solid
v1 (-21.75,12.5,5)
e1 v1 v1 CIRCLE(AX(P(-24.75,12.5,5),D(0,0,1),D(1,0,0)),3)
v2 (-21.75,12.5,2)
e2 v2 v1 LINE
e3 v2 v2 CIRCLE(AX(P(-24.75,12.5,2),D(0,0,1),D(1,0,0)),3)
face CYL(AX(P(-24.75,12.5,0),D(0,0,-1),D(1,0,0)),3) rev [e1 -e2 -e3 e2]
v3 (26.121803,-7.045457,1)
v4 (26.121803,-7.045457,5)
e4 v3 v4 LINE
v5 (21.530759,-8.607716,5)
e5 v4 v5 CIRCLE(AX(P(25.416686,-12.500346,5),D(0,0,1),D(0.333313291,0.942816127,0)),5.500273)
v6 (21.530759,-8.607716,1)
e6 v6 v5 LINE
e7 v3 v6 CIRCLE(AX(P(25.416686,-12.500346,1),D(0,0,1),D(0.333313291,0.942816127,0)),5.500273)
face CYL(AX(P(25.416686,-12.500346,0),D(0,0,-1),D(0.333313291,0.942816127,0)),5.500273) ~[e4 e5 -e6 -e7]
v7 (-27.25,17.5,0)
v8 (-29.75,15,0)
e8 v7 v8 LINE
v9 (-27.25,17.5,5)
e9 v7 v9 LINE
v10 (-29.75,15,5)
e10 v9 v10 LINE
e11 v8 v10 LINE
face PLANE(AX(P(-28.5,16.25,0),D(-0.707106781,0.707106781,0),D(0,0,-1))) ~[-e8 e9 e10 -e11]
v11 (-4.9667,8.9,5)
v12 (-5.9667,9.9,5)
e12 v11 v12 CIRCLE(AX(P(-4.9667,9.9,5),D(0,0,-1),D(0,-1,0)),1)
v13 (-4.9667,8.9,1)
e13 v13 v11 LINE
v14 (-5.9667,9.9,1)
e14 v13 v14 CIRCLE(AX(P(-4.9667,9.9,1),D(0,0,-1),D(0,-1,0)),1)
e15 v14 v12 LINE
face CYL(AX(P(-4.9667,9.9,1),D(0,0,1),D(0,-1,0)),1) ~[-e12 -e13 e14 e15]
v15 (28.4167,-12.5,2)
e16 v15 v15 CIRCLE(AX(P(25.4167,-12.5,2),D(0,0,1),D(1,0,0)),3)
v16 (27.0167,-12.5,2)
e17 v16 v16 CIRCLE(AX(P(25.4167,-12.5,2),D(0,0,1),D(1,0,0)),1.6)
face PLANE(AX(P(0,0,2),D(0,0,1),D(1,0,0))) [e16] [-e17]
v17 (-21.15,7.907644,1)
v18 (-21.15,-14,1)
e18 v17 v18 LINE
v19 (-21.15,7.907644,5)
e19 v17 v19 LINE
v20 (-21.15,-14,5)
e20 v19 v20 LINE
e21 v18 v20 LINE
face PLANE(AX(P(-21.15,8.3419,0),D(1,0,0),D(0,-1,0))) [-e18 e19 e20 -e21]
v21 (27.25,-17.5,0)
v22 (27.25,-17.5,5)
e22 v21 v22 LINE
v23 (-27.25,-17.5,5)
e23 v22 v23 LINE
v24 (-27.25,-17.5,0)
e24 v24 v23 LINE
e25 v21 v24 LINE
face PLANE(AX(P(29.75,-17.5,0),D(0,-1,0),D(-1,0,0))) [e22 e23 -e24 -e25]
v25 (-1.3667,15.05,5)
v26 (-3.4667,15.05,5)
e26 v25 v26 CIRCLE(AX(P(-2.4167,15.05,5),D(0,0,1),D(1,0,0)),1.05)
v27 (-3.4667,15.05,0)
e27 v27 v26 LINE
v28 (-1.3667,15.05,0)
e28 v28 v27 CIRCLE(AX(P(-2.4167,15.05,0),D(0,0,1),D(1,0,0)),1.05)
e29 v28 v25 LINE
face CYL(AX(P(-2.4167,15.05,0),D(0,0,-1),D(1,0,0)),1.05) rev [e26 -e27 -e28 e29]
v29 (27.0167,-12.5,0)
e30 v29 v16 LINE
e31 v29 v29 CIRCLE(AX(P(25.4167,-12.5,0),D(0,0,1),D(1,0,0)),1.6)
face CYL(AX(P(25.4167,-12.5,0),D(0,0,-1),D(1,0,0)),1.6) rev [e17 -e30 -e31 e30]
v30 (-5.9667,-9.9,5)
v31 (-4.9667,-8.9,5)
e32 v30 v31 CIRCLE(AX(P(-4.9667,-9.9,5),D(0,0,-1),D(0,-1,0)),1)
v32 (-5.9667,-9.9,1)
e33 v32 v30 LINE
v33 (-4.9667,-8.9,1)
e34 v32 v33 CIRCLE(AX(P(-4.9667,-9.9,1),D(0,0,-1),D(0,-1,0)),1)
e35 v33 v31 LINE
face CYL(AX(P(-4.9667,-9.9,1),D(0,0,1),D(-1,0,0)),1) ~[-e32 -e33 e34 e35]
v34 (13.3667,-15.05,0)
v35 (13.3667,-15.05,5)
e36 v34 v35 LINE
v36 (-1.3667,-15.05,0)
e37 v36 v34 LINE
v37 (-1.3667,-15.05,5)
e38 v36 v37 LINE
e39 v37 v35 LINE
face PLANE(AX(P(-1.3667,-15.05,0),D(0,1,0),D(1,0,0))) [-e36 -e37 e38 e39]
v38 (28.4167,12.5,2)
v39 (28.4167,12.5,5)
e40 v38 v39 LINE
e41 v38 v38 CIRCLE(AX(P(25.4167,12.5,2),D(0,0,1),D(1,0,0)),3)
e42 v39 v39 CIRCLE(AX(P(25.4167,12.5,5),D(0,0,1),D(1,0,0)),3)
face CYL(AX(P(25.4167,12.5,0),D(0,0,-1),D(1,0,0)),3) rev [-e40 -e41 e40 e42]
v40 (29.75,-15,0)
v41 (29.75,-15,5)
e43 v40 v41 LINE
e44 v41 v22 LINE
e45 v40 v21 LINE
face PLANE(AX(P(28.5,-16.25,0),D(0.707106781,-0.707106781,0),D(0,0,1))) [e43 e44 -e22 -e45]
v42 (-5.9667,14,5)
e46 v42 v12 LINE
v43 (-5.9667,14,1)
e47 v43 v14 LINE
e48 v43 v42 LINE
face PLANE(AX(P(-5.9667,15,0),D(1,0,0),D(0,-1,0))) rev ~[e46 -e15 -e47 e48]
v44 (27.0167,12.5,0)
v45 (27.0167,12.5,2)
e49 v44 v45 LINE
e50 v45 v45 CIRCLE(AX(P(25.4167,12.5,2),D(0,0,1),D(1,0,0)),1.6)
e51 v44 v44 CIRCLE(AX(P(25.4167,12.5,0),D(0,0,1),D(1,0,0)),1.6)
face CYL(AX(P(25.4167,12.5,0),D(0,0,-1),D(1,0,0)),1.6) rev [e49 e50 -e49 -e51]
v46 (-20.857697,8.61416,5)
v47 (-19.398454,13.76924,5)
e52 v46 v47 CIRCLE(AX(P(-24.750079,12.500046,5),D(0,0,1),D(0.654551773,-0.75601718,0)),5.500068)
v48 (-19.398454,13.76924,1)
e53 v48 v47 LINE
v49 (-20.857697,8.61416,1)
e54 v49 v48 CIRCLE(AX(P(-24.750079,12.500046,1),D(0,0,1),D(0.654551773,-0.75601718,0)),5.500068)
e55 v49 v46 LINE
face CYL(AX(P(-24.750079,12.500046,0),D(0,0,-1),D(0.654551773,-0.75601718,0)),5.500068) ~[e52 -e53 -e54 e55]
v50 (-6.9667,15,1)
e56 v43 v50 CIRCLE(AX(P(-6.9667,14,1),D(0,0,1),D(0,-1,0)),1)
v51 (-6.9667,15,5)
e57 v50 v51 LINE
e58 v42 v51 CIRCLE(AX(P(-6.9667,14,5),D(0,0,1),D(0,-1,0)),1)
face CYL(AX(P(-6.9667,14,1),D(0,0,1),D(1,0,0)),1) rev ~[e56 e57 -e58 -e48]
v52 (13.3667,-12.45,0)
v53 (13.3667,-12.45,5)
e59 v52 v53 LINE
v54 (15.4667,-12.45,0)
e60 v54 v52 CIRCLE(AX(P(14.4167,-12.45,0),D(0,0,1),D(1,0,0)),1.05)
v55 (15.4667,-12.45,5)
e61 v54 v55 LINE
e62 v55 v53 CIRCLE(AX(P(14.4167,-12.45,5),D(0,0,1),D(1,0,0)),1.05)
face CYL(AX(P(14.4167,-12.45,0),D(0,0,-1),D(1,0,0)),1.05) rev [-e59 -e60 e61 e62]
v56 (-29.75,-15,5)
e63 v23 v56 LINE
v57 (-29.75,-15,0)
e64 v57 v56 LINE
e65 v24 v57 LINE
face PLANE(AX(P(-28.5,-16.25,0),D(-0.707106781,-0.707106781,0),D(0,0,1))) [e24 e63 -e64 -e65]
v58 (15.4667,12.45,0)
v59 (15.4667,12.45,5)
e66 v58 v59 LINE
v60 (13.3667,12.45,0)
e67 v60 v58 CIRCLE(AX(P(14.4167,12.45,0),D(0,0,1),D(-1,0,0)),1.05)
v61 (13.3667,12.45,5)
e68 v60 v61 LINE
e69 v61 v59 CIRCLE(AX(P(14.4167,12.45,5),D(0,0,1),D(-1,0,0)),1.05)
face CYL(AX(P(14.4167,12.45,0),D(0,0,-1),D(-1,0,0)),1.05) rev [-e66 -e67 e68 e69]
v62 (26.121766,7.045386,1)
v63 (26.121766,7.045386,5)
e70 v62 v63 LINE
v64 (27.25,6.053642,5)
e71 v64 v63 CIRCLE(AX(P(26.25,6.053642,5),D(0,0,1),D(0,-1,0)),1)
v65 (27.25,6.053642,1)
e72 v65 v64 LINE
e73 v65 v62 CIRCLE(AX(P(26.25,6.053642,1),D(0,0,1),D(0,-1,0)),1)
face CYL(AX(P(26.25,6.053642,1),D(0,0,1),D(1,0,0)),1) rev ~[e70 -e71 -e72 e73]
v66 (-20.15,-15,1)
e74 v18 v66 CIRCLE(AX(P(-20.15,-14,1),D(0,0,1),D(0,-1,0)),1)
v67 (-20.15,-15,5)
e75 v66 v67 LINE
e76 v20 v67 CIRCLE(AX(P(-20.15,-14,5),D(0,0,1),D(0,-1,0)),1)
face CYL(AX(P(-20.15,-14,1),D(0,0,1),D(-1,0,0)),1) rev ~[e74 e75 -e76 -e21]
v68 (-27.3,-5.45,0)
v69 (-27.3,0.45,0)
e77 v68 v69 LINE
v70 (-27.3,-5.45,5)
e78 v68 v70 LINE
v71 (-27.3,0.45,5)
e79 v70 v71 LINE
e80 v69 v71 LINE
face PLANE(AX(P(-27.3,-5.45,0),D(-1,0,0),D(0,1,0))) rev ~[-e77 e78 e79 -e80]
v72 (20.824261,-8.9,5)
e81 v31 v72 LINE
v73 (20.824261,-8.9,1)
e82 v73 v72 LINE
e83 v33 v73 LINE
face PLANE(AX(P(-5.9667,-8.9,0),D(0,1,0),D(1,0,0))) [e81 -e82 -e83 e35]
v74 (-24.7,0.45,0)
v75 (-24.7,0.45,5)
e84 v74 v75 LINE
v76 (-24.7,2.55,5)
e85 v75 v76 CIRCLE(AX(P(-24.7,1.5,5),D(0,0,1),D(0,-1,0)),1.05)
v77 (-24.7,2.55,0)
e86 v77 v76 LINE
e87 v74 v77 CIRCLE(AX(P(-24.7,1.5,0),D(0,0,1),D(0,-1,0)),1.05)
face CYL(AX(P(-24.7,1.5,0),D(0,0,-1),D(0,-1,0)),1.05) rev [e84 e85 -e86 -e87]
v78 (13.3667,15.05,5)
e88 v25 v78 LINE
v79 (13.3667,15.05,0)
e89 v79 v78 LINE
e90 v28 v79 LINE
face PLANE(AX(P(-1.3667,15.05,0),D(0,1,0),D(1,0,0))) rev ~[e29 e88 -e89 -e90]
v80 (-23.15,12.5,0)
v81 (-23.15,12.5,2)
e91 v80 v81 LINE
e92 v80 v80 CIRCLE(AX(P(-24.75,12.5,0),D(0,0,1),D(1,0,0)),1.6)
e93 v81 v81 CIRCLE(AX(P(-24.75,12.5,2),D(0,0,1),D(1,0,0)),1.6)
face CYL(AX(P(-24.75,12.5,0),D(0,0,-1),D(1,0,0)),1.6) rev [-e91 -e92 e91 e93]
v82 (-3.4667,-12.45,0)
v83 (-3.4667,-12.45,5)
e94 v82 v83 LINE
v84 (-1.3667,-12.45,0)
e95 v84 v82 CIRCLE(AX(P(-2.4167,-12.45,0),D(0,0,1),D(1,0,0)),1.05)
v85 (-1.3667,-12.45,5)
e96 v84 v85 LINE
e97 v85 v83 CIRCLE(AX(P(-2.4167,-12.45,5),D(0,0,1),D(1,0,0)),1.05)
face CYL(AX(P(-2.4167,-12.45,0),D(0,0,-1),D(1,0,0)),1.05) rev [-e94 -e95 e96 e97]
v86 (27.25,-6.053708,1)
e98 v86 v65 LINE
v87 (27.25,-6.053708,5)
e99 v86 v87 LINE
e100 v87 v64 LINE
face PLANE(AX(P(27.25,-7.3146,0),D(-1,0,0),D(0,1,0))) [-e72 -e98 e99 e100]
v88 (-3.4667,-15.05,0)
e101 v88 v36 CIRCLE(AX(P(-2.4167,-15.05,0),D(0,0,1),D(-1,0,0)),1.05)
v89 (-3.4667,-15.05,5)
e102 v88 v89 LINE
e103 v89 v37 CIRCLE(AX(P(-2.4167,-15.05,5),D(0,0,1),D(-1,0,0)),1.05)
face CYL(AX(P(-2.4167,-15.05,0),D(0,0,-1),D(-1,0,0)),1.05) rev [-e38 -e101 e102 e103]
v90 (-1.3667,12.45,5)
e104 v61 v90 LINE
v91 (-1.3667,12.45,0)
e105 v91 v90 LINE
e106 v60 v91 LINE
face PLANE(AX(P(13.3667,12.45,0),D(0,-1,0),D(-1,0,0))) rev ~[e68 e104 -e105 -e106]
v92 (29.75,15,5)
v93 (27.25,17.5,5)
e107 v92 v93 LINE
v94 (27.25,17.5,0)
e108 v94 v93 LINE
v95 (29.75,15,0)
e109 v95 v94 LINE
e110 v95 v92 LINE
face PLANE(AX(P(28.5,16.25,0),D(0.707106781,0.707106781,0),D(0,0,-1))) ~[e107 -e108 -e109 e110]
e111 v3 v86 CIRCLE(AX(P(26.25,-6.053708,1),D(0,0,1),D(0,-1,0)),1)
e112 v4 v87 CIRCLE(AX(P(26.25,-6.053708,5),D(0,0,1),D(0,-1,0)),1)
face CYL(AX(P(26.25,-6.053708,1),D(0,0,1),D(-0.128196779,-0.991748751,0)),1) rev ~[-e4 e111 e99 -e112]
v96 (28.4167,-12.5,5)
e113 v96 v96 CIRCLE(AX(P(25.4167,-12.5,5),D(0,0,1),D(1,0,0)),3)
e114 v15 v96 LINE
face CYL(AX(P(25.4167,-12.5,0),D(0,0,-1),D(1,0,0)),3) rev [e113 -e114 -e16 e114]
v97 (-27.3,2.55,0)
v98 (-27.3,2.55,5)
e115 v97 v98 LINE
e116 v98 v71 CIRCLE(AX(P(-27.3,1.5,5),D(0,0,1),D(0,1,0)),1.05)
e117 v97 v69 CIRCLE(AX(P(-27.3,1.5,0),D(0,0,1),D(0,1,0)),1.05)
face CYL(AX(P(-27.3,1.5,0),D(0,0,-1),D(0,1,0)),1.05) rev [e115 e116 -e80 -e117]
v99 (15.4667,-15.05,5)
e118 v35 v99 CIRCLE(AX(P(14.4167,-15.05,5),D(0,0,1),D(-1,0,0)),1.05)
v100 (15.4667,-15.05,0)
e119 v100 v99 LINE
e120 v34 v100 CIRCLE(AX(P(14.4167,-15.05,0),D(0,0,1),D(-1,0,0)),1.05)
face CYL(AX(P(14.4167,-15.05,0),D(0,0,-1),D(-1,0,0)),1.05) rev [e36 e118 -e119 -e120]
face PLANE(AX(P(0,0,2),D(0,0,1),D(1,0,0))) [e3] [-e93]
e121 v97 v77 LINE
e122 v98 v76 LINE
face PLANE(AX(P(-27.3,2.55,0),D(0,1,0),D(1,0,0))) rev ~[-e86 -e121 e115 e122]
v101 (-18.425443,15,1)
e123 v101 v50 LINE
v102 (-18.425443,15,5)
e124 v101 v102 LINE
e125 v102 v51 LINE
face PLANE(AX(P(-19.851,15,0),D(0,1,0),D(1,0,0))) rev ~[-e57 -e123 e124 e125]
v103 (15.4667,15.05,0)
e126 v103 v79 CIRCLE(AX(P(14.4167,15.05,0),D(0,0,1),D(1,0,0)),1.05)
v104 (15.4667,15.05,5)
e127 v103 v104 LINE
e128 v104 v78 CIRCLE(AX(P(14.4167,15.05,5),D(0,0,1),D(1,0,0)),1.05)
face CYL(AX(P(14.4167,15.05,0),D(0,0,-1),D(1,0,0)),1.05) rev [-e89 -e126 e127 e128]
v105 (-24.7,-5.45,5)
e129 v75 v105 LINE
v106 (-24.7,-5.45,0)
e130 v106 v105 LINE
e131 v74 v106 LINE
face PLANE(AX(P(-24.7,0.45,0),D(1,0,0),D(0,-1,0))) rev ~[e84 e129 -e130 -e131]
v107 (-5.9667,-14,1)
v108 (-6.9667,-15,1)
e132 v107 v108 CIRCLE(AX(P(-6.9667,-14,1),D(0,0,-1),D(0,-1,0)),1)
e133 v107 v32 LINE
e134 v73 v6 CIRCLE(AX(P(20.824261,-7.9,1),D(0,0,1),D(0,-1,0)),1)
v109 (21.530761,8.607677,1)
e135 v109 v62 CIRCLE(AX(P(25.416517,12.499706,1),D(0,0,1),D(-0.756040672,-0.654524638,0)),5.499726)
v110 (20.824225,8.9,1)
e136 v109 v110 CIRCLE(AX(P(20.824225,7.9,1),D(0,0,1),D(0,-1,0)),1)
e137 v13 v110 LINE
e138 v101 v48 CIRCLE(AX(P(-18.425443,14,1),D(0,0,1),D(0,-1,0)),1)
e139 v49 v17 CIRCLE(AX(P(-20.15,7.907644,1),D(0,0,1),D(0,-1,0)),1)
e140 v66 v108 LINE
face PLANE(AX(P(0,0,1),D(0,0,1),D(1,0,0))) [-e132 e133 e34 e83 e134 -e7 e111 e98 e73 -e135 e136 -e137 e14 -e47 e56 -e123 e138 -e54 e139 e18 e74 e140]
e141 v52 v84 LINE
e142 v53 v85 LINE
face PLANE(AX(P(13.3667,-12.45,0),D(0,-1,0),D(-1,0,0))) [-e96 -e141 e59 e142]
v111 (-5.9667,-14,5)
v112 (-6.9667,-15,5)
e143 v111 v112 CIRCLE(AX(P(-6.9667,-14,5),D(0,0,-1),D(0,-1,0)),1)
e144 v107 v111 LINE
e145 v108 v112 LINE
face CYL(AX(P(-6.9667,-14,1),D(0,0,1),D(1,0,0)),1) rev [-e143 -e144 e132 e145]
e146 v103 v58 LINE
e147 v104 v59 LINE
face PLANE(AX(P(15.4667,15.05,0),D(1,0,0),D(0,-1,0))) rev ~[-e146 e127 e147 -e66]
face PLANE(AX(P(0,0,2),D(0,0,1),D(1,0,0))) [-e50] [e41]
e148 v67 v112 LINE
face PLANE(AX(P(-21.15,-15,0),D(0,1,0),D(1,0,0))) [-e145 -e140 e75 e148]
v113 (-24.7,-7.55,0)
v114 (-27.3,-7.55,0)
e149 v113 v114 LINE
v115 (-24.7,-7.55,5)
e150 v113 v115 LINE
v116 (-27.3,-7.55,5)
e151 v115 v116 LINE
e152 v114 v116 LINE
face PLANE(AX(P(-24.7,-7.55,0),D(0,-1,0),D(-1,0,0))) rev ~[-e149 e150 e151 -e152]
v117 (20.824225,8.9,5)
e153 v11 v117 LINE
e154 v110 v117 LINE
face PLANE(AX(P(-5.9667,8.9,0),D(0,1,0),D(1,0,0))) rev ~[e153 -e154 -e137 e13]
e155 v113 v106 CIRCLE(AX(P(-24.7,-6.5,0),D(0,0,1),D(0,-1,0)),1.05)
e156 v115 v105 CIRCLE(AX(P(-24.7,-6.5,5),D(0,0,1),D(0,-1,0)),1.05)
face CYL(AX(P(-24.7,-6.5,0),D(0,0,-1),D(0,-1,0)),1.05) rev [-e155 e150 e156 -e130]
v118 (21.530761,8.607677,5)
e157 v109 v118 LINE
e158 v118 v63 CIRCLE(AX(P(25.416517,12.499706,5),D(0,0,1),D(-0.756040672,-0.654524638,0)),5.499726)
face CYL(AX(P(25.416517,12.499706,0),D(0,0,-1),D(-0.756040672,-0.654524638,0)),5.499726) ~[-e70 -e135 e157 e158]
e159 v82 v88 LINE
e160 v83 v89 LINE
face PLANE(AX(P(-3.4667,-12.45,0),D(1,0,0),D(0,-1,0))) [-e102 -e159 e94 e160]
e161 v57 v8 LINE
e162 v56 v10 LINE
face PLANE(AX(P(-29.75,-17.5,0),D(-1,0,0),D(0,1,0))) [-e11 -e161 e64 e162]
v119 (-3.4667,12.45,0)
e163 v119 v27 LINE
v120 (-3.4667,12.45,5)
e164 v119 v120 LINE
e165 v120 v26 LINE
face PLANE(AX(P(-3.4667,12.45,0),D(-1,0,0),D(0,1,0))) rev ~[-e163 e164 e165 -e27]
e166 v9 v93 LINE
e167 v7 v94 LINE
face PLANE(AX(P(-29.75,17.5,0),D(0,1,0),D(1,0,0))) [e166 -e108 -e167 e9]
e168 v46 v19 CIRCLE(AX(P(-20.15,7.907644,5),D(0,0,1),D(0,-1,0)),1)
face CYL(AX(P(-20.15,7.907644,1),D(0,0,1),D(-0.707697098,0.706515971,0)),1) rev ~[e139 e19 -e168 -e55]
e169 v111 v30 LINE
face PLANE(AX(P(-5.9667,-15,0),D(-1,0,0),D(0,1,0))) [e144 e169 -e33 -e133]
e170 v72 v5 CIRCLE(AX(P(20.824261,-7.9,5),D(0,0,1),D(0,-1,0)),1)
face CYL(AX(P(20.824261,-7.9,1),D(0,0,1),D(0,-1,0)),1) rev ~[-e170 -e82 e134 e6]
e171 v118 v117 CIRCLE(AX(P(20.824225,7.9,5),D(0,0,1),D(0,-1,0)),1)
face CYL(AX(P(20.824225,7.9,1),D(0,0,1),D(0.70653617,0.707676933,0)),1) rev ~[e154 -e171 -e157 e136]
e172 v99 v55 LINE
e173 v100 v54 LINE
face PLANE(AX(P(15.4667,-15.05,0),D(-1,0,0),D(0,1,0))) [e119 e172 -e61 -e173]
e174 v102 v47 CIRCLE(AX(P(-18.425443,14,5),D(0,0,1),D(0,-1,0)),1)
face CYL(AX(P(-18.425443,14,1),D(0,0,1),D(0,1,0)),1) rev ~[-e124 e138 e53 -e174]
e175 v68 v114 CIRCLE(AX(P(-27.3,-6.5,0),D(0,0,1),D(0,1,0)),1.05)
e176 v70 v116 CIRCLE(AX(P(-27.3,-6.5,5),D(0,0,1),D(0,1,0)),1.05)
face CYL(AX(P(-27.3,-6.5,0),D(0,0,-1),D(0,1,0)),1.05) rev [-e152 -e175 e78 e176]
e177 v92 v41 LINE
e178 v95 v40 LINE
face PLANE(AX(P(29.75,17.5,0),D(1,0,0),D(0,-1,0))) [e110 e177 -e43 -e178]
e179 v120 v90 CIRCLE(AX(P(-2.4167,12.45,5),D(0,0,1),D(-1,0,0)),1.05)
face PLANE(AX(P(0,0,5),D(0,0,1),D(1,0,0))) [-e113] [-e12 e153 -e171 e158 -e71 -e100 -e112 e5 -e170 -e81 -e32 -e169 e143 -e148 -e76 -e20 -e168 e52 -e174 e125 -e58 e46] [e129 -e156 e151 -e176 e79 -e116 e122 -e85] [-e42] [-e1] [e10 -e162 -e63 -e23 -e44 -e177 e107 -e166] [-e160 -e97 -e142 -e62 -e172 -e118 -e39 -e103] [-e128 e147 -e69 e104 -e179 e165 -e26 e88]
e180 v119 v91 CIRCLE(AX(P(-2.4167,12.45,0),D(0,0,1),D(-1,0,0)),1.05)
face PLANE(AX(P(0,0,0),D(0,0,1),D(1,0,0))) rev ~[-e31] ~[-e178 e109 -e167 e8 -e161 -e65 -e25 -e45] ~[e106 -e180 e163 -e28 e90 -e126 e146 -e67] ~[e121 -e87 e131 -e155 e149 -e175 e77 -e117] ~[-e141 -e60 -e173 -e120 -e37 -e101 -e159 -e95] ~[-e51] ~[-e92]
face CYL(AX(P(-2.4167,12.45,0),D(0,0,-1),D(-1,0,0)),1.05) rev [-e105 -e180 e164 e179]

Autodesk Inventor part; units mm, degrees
ref_plane "YZ Plane" through (0, 0, 0) normal (1, 0, 0) x (0, 1, 0)
ref_plane "XZ Plane" through (0, 0, 0) normal (0, 1, 0) x (-1, 0, 0)
ref_plane "XY Plane" through (0, 0, 0) normal (0, 0, 1) x (1, 0, 0)
sketch "スケッチ1" plane through (0, 0, 0) normal (0, 0, 1) x (1, 0, 0)
  line L0 (29.75, 17.5) -> (29.75, -17.5)
  line L1 (29.75, -17.5) -> (-29.75, -17.5)
  line L2 (-29.75, -17.5) -> (-29.75, 17.5)
  line L3 (-29.75, 17.5) -> (29.75, -17.5) construction
  line L4 (29.75, 17.5) -> (-29.75, -17.5) construction
  line L5 (-3.4667, -15.05) -> (-1.3667, -15.05) construction
  line L6 (15.4667, -15.05) -> (15.4667, -12.45)
  line L7 (15.4667, -12.45) -> (13.3667, -12.45) construction
  line L8 (-3.4667, -12.45) -> (-3.4667, -15.05)
  line L9 (-3.4667, -15.05) -> (15.4667, -12.45) construction
  line L10 (15.4667, -15.05) -> (-3.4667, -12.45) construction
  line L11 (-3.4167, -12.5) -> (15.4167, -12.5) construction
  line L12 (15.4167, -12.5) -> (15.4167, -15) construction
  line L13 (15.4167, -15) -> (-3.4167, -15) construction
  line L14 (-3.4167, -15) -> (-3.4167, -12.5) construction
  line L15 (-3.4167, -12.5) -> (15.4167, -15) construction
  line L16 (15.4167, -12.5) -> (-3.4167, -15) construction
  arc A0 (-1.3667, -12.45) -> (-3.4667, -12.45) centre (-2.4167, -12.45) ccw
  line L17 (-3.4667, -13.75) -> (15.4667, -13.75) construction
  arc A1 (-3.4667, -15.05) -> (-1.3667, -15.05) centre (-2.4167, -15.05) ccw
  line L18 (-1.3667, -12.45) -> (-3.4667, -12.45) construction
  line L19 (-1.3667, -15.05) -> (13.3667, -15.05)
  line L20 (13.3667, -12.45) -> (-1.3667, -12.45)
  line L21 (13.3667, -15.05) -> (15.4667, -15.05) construction
  line L22 (-29.75, 17.5) -> (29.75, 17.5)
  line L23 (6, 17.5) -> (6, -17.5) construction
  line L24 (-29.75, 0) -> (29.75, 0) construction
  arc A2 (15.4667, -12.45) -> (13.3667, -12.45) centre (14.4167, -12.45) ccw
  arc A3 (13.3667, -15.05) -> (15.4667, -15.05) centre (14.4167, -15.05) ccw
  line L25 (-3.4667, 15.05) -> (-1.3667, 15.05) construction
  line L26 (15.4667, 15.05) -> (15.4667, 12.45)
  line L27 (15.4667, 12.45) -> (13.3667, 12.45) construction
  line L28 (-3.4667, 12.45) -> (-3.4667, 15.05)
  line L29 (-3.4667, 15.05) -> (15.4667, 12.45) construction
  line L30 (15.4667, 15.05) -> (-3.4667, 12.45) construction
  line L31 (-3.4167, 12.5) -> (15.4167, 12.5) construction
  line L32 (15.4167, 12.5) -> (15.4167, 15) construction
  line L33 (15.4167, 15) -> (-3.4167, 15) construction
  line L34 (-3.4167, 15) -> (-3.4167, 12.5) construction
  line L35 (-3.4167, 12.5) -> (15.4167, 15) construction
  line L36 (15.4167, 12.5) -> (-3.4167, 15) construction
  arc A4 (-3.4667, 12.45) -> (-1.3667, 12.45) centre (-2.4167, 12.45) ccw
  line L37 (-3.4667, 13.75) -> (15.4667, 13.75) construction
  arc A5 (-1.3667, 15.05) -> (-3.4667, 15.05) centre (-2.4167, 15.05) ccw
  line L38 (-1.3667, 12.45) -> (-3.4667, 12.45) construction
  line L39 (-1.3667, 15.05) -> (13.3667, 15.05)
  line L40 (13.3667, 12.45) -> (-1.3667, 12.45)
  line L41 (13.3667, 15.05) -> (15.4667, 15.05) construction
  arc A6 (15.4667, 15.05) -> (13.3667, 15.05) centre (14.4167, 15.05) ccw
  arc A7 (13.3667, 12.45) -> (15.4667, 12.45) centre (14.4167, 12.45) ccw
  circle A8 centre (25.4167, -12.5) radius 1.6
  circle A9 centre (25.4167, -12.5) radius 3
  circle A10 centre (25.4167, 12.5) radius 1.6
  circle A11 centre (25.4167, 12.5) radius 3
  circle A12 centre (-24.75, 12.5) radius 1.6
  circle A13 centre (-24.75, 12.5) radius 3
  line L42 (-5.9667, -15) -> (-5.9667, -8.9)
  line L43 (-5.9667, -8.9) -> (21.2585, -8.9)
  line L44 (27.25, -7.3146) -> (27.25, 7.3146)
  line L45 (-19.851, 15) -> (-5.9167, 15)
  arc A14 (-21.15, 8.3419) -> (-19.851, 15) centre (-24.75, 12.5) ccw
  line L46 (-27.25, 2.5) -> (-24.75, 2.5) construction
  line L47 (-24.75, 2.5) -> (-24.75, -7.5) construction
  line L48 (-24.75, -7.5) -> (-27.25, -7.5) construction
  line L49 (-27.25, -7.5) -> (-27.25, 2.5) construction
  line L50 (-27.25, 2.5) -> (-24.75, -7.5) construction
  line L51 (-24.75, 2.5) -> (-27.25, -7.5) construction
  line L52 (-27.3, 2.55) -> (-24.7, 2.55)
  line L53 (-24.7, 2.55) -> (-24.7, -7.55)
  line L54 (-24.7, -7.55) -> (-27.3, -7.55)
  line L55 (-27.3, -7.55) -> (-27.3, 2.55)
  line L56 (-27.3, 2.55) -> (-24.7, -7.55) construction
  line L57 (-24.7, 2.55) -> (-27.3, -7.55) construction
  arc A15 (-27.3, 2.55) -> (-27.3, 0.45) centre (-27.3, 1.5) ccw
  line L58 (-26, 2.55) -> (-26, -7.55) construction
  line L59 (-27.3, -2.5) -> (-24.7, -2.5) construction
  arc A16 (-24.7, 0.45) -> (-24.7, 2.55) centre (-24.7, 1.5) ccw
  arc A17 (-27.3, -5.45) -> (-27.3, -7.55) centre (-27.3, -6.5) ccw
  arc A18 (-24.7, -7.55) -> (-24.7, -5.45) centre (-24.7, -6.5) ccw
  line L60 (-21.15, 8.3419) -> (-21.15, -15)
  line L61 (-5.9667, 15) -> (-5.9667, 8.9)
  line L62 (-21.15, -15) -> (-5.9667, -15)
  arc A19 (27.25, -7.3146) -> (21.2585, -8.9) centre (25.4167, -12.5) ccw
  line L63 (-5.9667, 8.9) -> (21.2585, 8.9)
  arc A20 (21.2585, 8.9) -> (27.25, 7.3146) centre (25.4167, 12.5) ccw
  point P0 (0, 0)
  point P1 (6, -13.75)
  point P2 (6, -13.75)
  point P3 (6, -13.75)
  point P4 (6, 13.75)
  point P5 (6, 13.75)
  point P6 (6, 13.75)
  point P7 (-26, -2.5)
  point P8 (-27.3, -5.45)
  point P9 (-24.7, 0.45)
  point P10 (-24.7, -5.45)
  point P11 (-5.9667, 15)
  point P12 (27.25, 7.3146)
  dimension "d0" = 59.5
  dimension "d1" = 35
  dimension "d6" = 18.8333
  dimension "d7" = 0.05
  dimension "d8" = 0.05
  dimension "d9" = 1.05
  dimension "d26" = 35.75
  dimension "d27" = 5
  dimension "d31" = 3.2
  dimension "d32" = 6
  dimension "d33" = 5
  dimension "d34" = 10
  dimension "d39" = 5
  dimension "d40" = 5
  dimension "d41" = 3.2
  dimension "d42" = 6
  dimension "d43" = 2.5
  dimension "d50" = 2.5
  dimension "d51" = 2.5
  dimension "d54" = 2.5
  dimension "d56" = 2.5
  dimension "d60" = 1.05
  dimension "d61" = 0.05
  dimension "d62" = 0.05
  dimension "d63" = 2.5
  dimension "d64" = 2.5
  dimension "d65" = 10
  dimension "d68" = 2.5
  dimension "d71" = 2.5
  dimension "d75" = 10
  dimension "d76" = 2.5
  dimension "d77" = 2.5
extrude "押し出し1" add sketch "スケッチ1" along normal blind 5 contours L0 L1 L2 L22
extrude "押し出し2" add sketch "スケッチ1" along normal blind 2 contours A9 | A11 | A13
chamfer "面取り1" distance 2.5 angle 45 4 edges at (-29.75, 17.5, 2.5) (-29.75, -17.5, 2.5) (29.75, 17.5, 2.5) (29.75, -17.5, 2.5)
extrude "押し出し3" add sketch "スケッチ1" along normal blind 1 contours L62 L60 A14 L45 L61 L63 A20 L44 A19 L43 L42
fillet "フィレット1" radius 1 11 edges at (-19.851, 15, 3) (-21.15, 8.3419, 3) (-5.9667, -8.9, 3) (-5.9667, 15, 3) (-5.9667, -15, 3) (-21.15, -15, 3) (21.2585, 8.9, 3) (27.25, 7.3146, 3) (27.25, -7.3146, 3) (21.2585, -8.9, 3) (-5.9667, 8.9, 3)
equation "\"d6\" = d4"
equation "\"d8\" = d7"
equation "\"d41\" = d31"
equation "\"d42\" = d32"
equation "\"d50\" = d49"
equation "\"d60\" = d9"
equation "\"d61\" = d7"
equation "\"d62\" = d61"
equation "\"d4\" = 18.833333"
equation "\"d49\" = 2.5"
properties part number "Cockpit_vertical_frame_05" material "アセタール樹脂、黒"
